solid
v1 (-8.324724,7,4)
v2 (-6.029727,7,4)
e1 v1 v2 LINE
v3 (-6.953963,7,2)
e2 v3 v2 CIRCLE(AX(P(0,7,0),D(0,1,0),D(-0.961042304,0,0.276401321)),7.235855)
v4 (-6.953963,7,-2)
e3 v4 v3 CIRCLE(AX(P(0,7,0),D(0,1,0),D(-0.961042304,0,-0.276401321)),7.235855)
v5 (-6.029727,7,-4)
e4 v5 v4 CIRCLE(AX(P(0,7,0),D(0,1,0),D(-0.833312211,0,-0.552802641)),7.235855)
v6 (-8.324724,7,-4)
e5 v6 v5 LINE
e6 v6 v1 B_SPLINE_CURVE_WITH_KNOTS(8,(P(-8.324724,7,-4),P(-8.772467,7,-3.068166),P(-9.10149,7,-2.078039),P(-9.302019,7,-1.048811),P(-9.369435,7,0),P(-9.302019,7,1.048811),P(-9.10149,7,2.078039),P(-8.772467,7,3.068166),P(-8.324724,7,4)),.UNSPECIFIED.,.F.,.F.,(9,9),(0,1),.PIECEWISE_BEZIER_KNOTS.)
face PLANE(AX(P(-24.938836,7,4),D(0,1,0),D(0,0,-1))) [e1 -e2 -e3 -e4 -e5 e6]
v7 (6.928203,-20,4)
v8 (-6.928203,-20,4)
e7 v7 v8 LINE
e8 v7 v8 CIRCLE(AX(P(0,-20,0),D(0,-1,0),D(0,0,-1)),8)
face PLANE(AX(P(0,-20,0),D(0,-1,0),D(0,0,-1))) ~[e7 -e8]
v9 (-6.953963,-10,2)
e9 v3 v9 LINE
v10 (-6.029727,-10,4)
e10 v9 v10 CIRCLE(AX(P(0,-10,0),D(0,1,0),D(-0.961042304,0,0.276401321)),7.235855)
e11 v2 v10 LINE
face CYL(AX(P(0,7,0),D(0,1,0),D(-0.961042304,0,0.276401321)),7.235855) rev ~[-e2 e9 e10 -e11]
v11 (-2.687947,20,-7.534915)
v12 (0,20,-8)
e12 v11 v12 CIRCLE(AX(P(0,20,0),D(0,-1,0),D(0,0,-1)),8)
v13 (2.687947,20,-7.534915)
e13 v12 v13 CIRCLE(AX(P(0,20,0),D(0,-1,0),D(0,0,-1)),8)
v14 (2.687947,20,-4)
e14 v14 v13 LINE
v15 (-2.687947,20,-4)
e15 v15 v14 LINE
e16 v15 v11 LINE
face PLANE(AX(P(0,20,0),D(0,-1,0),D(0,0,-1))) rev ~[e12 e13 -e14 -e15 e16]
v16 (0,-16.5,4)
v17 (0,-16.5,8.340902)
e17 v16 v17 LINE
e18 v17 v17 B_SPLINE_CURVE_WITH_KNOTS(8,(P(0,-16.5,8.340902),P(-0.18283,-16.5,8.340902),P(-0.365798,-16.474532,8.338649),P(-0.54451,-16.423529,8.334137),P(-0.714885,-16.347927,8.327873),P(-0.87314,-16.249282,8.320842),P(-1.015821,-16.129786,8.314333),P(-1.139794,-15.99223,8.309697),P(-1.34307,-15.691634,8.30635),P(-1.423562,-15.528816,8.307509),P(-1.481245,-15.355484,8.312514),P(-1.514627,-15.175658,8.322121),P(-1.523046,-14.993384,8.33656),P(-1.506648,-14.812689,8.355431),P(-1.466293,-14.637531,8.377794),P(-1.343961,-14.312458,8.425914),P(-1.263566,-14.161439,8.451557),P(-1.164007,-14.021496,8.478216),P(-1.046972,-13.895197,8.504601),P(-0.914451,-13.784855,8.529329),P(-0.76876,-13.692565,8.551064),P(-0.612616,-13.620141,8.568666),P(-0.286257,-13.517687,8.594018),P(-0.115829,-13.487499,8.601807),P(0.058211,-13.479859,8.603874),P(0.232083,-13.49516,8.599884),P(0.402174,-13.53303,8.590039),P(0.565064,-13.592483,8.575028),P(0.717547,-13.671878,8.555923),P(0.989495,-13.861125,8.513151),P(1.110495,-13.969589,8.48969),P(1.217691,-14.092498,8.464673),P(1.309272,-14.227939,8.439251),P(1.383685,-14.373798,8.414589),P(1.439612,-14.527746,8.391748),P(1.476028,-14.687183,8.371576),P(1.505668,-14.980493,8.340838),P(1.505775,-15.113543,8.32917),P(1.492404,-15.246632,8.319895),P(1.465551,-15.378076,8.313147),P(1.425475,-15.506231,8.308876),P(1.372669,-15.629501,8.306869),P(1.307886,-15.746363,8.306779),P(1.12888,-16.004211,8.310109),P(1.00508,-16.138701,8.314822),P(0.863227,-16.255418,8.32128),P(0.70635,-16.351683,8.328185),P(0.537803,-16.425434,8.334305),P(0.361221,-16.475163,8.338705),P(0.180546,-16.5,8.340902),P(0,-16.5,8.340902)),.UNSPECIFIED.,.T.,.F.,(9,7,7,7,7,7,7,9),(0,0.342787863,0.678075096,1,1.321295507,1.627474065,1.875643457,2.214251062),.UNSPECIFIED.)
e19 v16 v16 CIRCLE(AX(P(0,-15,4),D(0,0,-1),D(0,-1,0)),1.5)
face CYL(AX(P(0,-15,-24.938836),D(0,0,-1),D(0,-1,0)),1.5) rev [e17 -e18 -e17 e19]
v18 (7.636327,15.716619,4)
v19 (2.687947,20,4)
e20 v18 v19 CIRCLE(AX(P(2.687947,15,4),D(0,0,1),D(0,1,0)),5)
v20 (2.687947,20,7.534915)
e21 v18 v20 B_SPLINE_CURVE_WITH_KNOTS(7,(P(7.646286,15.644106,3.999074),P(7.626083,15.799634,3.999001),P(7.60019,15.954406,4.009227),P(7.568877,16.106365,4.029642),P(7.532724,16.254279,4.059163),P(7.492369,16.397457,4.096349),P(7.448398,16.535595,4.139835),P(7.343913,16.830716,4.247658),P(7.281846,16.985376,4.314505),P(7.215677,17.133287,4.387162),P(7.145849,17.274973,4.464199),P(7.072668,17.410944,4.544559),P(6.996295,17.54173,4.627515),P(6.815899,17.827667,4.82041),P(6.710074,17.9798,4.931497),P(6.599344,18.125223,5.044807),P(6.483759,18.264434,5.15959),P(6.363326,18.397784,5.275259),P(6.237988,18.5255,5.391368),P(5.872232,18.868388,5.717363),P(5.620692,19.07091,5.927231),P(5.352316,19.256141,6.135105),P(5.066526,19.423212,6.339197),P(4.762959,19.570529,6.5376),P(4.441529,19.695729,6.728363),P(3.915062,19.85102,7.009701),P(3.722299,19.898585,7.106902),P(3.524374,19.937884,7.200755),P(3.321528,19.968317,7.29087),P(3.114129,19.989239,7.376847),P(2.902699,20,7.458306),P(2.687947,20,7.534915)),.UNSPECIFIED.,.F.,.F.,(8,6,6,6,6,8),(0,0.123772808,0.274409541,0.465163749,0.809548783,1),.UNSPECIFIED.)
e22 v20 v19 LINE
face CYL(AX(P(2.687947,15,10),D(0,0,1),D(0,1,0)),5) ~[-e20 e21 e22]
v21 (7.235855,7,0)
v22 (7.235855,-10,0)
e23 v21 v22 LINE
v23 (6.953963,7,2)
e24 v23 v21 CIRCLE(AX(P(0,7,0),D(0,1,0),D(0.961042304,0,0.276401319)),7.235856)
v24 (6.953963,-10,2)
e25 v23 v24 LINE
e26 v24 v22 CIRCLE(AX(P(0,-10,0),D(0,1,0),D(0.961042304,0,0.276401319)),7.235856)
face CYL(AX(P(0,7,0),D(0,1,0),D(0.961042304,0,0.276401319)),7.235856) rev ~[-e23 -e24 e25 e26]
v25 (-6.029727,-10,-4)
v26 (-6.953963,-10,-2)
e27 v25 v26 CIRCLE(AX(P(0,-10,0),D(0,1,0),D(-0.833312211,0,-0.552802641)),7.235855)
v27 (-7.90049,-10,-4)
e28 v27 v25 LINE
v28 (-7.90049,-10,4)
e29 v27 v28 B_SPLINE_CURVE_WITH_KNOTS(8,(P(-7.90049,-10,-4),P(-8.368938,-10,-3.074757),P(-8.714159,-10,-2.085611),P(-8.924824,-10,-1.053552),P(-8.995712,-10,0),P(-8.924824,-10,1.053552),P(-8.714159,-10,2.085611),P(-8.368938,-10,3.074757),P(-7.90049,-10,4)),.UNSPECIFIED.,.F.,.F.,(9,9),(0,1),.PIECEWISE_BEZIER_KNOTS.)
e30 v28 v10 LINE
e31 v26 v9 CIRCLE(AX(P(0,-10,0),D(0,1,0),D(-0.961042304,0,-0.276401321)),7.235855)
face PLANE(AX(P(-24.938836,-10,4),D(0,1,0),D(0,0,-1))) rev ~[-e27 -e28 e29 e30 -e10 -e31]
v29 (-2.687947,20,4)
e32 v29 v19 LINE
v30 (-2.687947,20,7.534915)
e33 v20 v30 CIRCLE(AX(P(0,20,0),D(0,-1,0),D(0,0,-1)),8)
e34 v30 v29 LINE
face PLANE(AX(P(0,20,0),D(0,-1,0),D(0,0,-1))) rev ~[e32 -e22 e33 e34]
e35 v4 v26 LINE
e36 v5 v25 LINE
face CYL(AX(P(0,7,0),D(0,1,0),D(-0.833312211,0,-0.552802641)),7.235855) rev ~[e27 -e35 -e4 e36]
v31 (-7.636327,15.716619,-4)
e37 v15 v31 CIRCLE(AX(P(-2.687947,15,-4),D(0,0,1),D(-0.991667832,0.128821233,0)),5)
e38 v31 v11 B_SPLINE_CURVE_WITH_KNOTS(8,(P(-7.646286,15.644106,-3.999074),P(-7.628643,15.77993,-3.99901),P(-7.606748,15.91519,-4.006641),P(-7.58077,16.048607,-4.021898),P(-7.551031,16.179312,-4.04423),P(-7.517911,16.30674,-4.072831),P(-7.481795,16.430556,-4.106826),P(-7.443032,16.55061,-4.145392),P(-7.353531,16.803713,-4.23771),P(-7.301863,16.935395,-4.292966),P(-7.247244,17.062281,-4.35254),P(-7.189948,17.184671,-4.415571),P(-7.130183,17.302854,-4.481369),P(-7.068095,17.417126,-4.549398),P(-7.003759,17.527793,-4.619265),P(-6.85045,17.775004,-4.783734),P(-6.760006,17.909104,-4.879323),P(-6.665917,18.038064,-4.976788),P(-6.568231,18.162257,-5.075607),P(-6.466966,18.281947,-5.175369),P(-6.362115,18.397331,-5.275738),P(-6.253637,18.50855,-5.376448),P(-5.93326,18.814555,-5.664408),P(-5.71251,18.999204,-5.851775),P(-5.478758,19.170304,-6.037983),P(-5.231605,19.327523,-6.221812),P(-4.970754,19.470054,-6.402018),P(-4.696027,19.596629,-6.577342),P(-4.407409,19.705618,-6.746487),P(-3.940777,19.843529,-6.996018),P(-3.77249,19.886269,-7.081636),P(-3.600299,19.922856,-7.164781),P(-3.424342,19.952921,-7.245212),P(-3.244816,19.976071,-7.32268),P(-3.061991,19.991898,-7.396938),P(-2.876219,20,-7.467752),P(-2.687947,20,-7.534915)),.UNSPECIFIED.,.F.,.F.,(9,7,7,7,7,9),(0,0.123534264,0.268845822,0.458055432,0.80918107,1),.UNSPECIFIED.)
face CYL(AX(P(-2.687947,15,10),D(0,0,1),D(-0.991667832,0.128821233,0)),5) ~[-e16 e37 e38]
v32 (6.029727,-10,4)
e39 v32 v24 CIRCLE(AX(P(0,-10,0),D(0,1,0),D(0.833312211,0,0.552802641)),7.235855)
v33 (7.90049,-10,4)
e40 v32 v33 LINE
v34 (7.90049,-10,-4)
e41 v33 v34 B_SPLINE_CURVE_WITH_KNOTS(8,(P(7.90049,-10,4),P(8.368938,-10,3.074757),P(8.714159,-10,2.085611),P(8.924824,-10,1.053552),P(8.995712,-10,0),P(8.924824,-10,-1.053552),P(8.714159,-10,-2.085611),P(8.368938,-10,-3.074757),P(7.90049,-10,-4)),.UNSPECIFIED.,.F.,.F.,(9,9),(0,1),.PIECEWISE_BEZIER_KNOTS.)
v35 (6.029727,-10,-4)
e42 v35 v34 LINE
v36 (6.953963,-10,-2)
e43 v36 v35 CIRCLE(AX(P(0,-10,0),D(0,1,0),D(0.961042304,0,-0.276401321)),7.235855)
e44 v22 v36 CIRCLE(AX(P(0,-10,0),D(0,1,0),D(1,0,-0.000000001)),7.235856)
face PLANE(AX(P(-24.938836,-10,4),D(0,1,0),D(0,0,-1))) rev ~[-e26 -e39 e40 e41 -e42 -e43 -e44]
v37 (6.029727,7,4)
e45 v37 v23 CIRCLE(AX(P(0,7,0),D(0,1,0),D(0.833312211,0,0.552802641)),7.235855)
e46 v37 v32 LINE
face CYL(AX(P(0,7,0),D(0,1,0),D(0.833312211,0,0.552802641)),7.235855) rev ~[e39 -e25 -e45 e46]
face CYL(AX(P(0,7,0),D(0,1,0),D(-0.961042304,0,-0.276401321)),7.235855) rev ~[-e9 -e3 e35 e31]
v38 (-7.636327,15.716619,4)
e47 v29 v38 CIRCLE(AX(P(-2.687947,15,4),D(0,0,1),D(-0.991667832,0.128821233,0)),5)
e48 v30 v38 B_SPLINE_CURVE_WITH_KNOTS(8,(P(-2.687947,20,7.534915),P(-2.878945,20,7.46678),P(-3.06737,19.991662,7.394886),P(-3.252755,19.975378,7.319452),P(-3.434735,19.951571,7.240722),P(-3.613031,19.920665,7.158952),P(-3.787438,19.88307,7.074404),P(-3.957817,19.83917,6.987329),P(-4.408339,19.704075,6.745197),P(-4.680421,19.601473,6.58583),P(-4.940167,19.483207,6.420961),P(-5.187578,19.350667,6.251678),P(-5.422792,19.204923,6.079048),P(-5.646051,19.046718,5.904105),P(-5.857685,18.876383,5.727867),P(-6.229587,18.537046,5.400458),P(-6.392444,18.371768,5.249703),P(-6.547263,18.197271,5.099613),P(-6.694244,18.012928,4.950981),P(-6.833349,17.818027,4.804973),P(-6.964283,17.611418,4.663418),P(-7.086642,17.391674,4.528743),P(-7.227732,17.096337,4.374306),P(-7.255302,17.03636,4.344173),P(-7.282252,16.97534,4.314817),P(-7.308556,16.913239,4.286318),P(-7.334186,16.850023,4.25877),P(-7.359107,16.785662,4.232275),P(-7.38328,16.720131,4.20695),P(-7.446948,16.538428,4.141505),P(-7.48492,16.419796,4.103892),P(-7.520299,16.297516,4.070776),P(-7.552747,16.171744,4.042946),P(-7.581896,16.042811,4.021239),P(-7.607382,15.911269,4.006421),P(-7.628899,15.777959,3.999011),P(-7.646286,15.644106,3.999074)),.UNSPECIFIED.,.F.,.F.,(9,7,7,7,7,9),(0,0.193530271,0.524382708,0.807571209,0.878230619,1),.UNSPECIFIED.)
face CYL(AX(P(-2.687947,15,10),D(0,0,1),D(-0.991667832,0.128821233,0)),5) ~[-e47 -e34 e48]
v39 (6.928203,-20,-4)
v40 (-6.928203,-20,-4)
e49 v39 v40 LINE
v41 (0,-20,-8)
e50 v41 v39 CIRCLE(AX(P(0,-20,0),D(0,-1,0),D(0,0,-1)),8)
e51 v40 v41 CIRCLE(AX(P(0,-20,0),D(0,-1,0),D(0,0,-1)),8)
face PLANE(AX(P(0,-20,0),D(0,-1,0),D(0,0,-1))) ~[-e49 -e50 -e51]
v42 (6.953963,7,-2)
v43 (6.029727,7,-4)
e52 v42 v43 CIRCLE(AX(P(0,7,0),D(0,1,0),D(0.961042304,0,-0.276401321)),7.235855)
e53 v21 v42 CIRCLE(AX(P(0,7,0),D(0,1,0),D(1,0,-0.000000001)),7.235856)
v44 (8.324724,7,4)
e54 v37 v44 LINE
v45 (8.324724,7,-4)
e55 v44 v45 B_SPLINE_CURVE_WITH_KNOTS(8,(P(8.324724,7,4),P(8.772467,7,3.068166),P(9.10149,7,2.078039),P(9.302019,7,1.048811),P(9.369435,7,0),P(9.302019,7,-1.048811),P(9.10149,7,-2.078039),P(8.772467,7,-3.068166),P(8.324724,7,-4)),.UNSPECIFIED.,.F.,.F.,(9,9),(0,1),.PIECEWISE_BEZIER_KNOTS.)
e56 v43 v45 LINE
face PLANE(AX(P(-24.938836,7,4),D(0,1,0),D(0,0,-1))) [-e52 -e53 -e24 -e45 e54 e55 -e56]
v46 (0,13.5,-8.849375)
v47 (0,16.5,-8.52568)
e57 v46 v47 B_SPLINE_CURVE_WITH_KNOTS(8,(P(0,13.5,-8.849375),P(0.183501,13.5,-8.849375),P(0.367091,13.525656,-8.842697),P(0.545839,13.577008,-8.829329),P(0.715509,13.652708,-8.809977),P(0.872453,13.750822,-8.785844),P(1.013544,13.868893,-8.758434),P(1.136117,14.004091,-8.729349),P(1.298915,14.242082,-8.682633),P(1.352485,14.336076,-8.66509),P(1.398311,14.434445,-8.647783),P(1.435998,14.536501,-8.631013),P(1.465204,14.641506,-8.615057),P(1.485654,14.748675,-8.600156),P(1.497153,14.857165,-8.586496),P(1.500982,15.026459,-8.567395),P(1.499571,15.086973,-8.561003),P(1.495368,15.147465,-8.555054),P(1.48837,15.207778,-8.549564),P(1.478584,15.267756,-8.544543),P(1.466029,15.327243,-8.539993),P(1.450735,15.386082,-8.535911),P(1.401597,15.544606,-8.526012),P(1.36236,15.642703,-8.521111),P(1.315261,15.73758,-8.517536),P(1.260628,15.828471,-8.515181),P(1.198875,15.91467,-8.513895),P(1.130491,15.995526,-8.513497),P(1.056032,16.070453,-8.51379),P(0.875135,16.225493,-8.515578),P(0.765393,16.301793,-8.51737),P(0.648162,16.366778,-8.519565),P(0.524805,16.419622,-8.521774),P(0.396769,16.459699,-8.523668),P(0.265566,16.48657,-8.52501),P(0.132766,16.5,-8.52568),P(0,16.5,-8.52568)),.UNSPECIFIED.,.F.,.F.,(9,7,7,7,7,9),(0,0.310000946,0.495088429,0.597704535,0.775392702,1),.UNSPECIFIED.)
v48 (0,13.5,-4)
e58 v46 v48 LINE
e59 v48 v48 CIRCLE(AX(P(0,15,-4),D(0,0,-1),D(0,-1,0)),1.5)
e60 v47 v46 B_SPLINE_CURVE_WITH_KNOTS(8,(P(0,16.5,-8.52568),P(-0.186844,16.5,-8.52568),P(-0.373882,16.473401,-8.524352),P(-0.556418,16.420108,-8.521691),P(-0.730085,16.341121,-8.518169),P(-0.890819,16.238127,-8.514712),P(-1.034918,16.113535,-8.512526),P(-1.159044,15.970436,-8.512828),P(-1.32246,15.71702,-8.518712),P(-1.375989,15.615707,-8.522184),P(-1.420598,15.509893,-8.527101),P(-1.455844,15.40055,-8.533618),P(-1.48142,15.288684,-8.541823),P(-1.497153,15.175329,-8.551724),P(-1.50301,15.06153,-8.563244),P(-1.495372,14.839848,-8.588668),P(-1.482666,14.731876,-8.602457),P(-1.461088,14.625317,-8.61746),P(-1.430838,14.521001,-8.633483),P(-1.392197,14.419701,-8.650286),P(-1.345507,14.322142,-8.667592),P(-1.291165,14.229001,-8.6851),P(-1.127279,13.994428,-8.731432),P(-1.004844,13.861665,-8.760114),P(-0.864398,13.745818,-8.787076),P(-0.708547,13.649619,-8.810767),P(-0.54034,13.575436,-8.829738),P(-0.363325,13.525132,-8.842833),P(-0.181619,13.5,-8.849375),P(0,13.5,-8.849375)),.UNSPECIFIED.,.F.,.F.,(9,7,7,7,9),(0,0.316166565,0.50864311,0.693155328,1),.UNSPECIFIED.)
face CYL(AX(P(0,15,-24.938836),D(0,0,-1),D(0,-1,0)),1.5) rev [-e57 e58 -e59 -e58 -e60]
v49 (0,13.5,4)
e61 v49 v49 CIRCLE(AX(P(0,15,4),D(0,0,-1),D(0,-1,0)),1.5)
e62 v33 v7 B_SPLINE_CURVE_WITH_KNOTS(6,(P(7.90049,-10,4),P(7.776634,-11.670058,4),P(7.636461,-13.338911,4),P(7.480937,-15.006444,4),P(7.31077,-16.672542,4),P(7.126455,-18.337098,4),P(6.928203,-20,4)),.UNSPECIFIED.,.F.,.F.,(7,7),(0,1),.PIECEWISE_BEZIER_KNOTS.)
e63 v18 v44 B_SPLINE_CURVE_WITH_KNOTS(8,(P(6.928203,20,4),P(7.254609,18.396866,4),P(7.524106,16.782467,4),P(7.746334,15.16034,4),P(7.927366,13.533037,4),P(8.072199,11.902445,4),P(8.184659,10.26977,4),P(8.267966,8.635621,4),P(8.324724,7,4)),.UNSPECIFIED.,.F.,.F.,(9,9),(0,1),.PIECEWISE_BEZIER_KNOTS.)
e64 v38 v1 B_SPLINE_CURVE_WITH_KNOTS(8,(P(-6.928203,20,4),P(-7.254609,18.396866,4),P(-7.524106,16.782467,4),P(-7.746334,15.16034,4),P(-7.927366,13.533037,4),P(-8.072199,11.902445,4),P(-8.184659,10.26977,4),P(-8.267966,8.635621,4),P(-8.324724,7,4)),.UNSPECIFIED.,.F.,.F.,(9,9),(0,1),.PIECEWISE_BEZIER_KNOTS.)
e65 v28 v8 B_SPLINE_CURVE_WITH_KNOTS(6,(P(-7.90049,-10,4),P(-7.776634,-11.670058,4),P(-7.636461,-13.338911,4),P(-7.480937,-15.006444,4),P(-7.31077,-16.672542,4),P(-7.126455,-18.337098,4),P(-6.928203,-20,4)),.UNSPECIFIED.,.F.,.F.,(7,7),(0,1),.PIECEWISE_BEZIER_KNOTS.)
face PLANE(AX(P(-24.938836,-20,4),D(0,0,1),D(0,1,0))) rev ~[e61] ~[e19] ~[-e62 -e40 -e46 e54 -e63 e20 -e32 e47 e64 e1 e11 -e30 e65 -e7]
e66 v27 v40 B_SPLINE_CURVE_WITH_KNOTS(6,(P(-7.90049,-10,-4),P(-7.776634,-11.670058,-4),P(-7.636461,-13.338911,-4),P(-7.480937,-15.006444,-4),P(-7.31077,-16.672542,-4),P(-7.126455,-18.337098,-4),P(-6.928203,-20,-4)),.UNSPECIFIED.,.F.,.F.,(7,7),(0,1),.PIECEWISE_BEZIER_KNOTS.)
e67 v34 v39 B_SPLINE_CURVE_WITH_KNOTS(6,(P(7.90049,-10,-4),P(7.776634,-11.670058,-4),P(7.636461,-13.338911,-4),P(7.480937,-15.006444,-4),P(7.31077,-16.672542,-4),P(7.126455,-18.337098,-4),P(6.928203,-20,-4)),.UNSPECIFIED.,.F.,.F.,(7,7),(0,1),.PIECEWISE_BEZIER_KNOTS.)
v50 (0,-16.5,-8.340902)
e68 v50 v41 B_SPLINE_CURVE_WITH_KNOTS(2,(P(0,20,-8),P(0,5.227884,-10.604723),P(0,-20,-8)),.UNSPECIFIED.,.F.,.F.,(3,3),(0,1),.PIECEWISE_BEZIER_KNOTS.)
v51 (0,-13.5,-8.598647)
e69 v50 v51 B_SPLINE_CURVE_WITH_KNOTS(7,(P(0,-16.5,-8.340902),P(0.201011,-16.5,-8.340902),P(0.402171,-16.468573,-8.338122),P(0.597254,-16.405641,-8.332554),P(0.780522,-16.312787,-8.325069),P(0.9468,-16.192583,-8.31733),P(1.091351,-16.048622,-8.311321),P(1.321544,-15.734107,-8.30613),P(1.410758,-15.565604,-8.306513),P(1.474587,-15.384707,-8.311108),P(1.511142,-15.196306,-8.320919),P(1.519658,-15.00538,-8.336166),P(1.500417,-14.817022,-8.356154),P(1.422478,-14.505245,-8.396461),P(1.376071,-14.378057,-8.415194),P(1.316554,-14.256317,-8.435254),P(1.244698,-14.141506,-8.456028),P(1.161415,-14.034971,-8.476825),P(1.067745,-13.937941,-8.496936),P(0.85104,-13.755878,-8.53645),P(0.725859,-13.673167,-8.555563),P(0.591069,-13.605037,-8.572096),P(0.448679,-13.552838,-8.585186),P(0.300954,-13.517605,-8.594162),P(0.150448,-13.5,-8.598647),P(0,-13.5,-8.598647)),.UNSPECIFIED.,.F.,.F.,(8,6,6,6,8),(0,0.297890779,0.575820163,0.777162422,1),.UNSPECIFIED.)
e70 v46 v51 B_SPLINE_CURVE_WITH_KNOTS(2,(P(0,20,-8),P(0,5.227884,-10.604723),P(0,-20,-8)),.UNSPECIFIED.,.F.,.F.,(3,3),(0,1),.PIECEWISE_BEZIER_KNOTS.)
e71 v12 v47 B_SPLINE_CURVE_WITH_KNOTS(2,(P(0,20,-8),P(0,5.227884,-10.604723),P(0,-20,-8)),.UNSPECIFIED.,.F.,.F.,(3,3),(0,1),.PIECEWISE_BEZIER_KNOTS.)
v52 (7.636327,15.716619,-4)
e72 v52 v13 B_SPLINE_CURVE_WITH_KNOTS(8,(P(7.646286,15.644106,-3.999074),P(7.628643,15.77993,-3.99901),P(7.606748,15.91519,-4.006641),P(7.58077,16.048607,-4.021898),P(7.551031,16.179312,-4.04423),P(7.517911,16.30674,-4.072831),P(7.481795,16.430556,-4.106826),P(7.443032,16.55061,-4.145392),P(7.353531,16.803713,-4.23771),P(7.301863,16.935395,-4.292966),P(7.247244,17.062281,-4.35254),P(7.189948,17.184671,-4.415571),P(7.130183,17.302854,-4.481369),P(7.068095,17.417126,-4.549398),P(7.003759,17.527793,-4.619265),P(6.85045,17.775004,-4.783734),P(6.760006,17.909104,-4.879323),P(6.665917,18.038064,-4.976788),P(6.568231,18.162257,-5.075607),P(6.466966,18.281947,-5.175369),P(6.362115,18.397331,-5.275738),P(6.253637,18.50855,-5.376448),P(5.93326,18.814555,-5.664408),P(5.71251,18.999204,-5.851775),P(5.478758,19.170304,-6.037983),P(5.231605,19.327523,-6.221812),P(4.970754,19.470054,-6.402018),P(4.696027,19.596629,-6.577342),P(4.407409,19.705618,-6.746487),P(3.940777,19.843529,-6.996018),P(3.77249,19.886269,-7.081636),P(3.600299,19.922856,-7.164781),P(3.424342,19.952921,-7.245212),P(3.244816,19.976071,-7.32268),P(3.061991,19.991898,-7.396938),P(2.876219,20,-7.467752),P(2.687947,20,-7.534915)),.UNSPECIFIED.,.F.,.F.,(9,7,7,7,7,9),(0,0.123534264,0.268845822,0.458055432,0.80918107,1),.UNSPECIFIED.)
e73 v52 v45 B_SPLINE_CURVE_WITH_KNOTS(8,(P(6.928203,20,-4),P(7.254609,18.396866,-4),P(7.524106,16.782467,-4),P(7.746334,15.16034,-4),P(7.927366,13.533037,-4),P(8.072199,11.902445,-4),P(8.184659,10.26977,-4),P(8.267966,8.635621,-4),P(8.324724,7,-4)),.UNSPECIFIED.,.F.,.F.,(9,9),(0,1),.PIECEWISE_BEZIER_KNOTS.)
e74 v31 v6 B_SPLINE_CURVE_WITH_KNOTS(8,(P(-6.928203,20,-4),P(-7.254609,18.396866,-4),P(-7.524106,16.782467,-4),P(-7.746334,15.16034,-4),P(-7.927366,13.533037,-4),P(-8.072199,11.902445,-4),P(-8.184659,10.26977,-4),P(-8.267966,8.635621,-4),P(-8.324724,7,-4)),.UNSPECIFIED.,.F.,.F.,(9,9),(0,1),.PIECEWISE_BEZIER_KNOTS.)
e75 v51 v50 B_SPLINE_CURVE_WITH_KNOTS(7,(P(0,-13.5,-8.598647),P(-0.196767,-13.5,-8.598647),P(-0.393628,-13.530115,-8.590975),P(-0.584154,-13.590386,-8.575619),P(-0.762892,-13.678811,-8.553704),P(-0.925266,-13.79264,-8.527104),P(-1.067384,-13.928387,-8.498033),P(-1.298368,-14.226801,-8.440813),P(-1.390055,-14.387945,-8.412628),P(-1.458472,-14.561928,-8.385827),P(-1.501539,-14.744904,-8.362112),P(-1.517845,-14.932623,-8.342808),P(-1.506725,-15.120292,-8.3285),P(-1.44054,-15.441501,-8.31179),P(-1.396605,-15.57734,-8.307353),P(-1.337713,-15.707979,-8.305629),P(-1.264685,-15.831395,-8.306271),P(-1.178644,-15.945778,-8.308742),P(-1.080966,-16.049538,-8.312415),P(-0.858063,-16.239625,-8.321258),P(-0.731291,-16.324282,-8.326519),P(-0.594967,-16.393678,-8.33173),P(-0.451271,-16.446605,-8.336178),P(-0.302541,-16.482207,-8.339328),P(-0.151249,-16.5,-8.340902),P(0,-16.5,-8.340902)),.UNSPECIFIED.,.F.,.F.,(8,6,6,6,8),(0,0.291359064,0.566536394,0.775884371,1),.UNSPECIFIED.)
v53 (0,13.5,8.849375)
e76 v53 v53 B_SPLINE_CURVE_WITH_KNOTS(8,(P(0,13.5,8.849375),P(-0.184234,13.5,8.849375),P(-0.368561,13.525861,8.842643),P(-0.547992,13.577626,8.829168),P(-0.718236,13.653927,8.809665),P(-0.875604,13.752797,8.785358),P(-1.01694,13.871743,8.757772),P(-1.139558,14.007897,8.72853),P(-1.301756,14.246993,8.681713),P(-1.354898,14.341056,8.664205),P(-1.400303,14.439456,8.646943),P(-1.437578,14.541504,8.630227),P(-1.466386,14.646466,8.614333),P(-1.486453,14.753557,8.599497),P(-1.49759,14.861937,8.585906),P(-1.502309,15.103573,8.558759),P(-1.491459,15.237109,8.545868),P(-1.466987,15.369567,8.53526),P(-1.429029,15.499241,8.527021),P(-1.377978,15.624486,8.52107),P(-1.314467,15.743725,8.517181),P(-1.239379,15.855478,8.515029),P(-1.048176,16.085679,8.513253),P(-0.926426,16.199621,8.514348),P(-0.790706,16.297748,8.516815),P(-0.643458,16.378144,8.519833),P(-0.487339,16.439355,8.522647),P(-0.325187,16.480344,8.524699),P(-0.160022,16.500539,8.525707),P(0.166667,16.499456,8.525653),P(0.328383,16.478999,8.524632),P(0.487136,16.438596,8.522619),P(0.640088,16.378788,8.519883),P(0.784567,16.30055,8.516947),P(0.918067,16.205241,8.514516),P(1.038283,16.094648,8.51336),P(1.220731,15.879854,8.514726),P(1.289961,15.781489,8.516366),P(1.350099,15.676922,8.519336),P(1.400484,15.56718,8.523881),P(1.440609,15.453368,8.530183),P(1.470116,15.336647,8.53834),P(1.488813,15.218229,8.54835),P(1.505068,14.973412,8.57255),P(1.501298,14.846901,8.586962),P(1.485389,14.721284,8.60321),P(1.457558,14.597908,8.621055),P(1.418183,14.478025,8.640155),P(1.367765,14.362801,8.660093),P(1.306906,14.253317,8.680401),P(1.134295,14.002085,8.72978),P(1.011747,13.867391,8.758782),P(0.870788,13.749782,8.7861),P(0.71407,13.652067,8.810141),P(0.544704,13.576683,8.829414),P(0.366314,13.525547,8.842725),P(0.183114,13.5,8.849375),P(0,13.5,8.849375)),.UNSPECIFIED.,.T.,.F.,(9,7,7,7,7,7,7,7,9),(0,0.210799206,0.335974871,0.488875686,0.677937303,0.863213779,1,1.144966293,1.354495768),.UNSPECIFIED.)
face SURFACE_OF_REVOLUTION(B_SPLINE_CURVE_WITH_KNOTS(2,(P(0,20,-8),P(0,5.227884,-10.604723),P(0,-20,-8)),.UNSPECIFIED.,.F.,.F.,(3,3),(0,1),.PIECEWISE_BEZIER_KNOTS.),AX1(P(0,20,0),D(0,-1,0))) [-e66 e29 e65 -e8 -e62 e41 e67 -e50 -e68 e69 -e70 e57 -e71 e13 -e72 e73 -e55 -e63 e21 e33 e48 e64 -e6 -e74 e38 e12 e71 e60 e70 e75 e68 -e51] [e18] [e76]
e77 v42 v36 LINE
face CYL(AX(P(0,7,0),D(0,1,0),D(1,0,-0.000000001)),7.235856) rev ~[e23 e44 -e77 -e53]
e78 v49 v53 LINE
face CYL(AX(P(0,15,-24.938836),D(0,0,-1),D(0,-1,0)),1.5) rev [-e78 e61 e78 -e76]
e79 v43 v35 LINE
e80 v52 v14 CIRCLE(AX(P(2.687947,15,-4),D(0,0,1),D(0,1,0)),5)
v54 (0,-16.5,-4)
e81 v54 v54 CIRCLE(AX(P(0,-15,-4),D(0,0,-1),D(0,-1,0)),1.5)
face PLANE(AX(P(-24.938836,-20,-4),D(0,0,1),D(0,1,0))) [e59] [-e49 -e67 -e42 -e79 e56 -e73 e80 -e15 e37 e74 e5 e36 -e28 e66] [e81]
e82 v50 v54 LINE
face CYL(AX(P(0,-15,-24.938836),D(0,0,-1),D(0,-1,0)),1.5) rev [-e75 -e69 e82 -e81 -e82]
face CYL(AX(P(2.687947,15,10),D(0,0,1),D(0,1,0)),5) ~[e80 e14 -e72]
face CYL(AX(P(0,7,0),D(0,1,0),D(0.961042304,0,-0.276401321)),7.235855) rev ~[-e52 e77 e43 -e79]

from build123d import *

# Parameters (mm, degrees)
CUT_EXTRUDE1_DEPTH      = 24.938835821
CUT_EXTRUDE1_DEPTH_BACK = 24.938835821
SKETCH2_W               = 8
SKETCH2_H               = 13
SKETCH2_H_2             = 10
CUT_EXTRUDE2_DEPTH      = 24.938835821
CUT_EXTRUDE2_DEPTH_BACK = 24.938835821
SKETCH3_R               = 1.5
CUT_EXTRUDE3_DEPTH      = 31.03444459
CUT_EXTRUDE4_START      = 10
CUT_EXTRUDE4_DEPTH      = 20


with BuildPart() as part:
    # Sketch1 → Revolve1 (revolve)
    with BuildSketch(Plane(origin=(0, 0, 0), x_dir=(0, 0, -1), z_dir=(1, 0, 0))):
        with BuildLine():
            Line((0, 20), (0, -20))
            Line((0, -20), (8, -20))
            add(Edge.make_bspline(
                [(8, 20), (10.604722665, 5.227883705), (8, -20)],
                knots=[0, 0, 0, 1, 1, 1], degree=2))
            Line((8, 20), (0, 20))
        make_face()
    revolve(axis=Axis((0, 20, 0), (0, -1, 0)))

    # Sketch2 → Cut-Extrude1 (cut, two sides: drawn at the far end of the back side and taken through both)
    with BuildSketch(Plane(origin=(0, 0, 0), x_dir=(0, 0, -1), z_dir=(1, 0, 0)).offset(-CUT_EXTRUDE1_DEPTH_BACK)):
        with Locations((0, 13.5)):
            Rectangle(SKETCH2_W, SKETCH2_H)
        with Locations((0, -15)):
            Rectangle(SKETCH2_W, SKETCH2_H_2)
    extrude(amount=CUT_EXTRUDE1_DEPTH + CUT_EXTRUDE1_DEPTH_BACK, mode=Mode.SUBTRACT)

    # Sketch3 → Cut-Extrude2 (cut, two sides: drawn at the far end of the back side and taken through both)
    with BuildSketch(Plane.XY.offset(-CUT_EXTRUDE2_DEPTH_BACK)):
        with Locations(Location((0, 15, 0), (0, 0, 270))):
            Circle(SKETCH3_R)
        with Locations(Location((0, -15, 0), (0, 0, 270))):
            Circle(SKETCH3_R)
    extrude(amount=CUT_EXTRUDE2_DEPTH + CUT_EXTRUDE2_DEPTH_BACK, mode=Mode.SUBTRACT)

    # Sketch4 → Cut-Extrude3 (cut, through all)
    with BuildSketch(Plane(origin=(0, 7, 0), x_dir=(1, 0, 0), z_dir=(0, 1, 0))):
        with BuildLine():
            ThreePointArc((-6.953963186, -2), (-6.568413105, -3.035383546), (-6.029726693, -4))
            Line((-6.029726693, -4), (6.029726693, -4))
            ThreePointArc((6.029726693, -4), (6.568413105, -3.035383546), (6.953963186, -2))
            ThreePointArc((6.953963186, -2), (7.165035811, -1.009884058), (7.235855443, 0))
            ThreePointArc((7.235855443, 0), (7.165035811, 1.009884058), (6.953963186, 2))
            ThreePointArc((6.953963186, 2), (6.568413105, 3.035383546), (6.029726693, 4))
            Line((6.029726693, 4), (-6.029726693, 4))
            ThreePointArc((-6.029726693, 4), (-6.568413105, 3.035383546), (-6.953963186, 2))
            ThreePointArc((-6.953963186, 2), (-7.235855443, 0), (-6.953963186, -2))
        make_face()
    extrude(amount=-CUT_EXTRUDE3_DEPTH, mode=Mode.SUBTRACT)

    # Sketch5 → Cut-Extrude4 (cut)
    with BuildSketch(Plane.XY.offset(CUT_EXTRUDE4_START)):
        with BuildLine():
            add(Edge.make_bspline(
                [(7.646286491, 15.644106168), (7.456972641, 17.101447086), (7.222625963, 18.553950368), (6.92820323, 20)],
                knots=[0.662887704, 0.662887704, 0.662887704, 0.662887704, 1, 1, 1, 1], degree=3))
            Line((6.92820323, 20), (2.687947329, 20))
            ThreePointArc((2.687947329, 20), (5.987907114, 18.756363324), (7.646286491, 15.644106168))
        make_face()
        with BuildLine():
            ThreePointArc((-7.646286491, 15.644106168), (-5.987907114, 18.756363324), (-2.687947329, 20))
            Line((-2.687947329, 20), (-6.92820323, 20))
            add(Edge.make_bspline(
                [(-6.92820323, 20), (-7.222625963, 18.553950368), (-7.456972641, 17.101447086), (-7.646286491, 15.644106168)],
                knots=[0, 0, 0, 0, 0.337112296, 0.337112296, 0.337112296, 0.337112296], degree=3))
        make_face()
    extrude(amount=-CUT_EXTRUDE4_DEPTH, mode=Mode.SUBTRACT)


solid = part.part
